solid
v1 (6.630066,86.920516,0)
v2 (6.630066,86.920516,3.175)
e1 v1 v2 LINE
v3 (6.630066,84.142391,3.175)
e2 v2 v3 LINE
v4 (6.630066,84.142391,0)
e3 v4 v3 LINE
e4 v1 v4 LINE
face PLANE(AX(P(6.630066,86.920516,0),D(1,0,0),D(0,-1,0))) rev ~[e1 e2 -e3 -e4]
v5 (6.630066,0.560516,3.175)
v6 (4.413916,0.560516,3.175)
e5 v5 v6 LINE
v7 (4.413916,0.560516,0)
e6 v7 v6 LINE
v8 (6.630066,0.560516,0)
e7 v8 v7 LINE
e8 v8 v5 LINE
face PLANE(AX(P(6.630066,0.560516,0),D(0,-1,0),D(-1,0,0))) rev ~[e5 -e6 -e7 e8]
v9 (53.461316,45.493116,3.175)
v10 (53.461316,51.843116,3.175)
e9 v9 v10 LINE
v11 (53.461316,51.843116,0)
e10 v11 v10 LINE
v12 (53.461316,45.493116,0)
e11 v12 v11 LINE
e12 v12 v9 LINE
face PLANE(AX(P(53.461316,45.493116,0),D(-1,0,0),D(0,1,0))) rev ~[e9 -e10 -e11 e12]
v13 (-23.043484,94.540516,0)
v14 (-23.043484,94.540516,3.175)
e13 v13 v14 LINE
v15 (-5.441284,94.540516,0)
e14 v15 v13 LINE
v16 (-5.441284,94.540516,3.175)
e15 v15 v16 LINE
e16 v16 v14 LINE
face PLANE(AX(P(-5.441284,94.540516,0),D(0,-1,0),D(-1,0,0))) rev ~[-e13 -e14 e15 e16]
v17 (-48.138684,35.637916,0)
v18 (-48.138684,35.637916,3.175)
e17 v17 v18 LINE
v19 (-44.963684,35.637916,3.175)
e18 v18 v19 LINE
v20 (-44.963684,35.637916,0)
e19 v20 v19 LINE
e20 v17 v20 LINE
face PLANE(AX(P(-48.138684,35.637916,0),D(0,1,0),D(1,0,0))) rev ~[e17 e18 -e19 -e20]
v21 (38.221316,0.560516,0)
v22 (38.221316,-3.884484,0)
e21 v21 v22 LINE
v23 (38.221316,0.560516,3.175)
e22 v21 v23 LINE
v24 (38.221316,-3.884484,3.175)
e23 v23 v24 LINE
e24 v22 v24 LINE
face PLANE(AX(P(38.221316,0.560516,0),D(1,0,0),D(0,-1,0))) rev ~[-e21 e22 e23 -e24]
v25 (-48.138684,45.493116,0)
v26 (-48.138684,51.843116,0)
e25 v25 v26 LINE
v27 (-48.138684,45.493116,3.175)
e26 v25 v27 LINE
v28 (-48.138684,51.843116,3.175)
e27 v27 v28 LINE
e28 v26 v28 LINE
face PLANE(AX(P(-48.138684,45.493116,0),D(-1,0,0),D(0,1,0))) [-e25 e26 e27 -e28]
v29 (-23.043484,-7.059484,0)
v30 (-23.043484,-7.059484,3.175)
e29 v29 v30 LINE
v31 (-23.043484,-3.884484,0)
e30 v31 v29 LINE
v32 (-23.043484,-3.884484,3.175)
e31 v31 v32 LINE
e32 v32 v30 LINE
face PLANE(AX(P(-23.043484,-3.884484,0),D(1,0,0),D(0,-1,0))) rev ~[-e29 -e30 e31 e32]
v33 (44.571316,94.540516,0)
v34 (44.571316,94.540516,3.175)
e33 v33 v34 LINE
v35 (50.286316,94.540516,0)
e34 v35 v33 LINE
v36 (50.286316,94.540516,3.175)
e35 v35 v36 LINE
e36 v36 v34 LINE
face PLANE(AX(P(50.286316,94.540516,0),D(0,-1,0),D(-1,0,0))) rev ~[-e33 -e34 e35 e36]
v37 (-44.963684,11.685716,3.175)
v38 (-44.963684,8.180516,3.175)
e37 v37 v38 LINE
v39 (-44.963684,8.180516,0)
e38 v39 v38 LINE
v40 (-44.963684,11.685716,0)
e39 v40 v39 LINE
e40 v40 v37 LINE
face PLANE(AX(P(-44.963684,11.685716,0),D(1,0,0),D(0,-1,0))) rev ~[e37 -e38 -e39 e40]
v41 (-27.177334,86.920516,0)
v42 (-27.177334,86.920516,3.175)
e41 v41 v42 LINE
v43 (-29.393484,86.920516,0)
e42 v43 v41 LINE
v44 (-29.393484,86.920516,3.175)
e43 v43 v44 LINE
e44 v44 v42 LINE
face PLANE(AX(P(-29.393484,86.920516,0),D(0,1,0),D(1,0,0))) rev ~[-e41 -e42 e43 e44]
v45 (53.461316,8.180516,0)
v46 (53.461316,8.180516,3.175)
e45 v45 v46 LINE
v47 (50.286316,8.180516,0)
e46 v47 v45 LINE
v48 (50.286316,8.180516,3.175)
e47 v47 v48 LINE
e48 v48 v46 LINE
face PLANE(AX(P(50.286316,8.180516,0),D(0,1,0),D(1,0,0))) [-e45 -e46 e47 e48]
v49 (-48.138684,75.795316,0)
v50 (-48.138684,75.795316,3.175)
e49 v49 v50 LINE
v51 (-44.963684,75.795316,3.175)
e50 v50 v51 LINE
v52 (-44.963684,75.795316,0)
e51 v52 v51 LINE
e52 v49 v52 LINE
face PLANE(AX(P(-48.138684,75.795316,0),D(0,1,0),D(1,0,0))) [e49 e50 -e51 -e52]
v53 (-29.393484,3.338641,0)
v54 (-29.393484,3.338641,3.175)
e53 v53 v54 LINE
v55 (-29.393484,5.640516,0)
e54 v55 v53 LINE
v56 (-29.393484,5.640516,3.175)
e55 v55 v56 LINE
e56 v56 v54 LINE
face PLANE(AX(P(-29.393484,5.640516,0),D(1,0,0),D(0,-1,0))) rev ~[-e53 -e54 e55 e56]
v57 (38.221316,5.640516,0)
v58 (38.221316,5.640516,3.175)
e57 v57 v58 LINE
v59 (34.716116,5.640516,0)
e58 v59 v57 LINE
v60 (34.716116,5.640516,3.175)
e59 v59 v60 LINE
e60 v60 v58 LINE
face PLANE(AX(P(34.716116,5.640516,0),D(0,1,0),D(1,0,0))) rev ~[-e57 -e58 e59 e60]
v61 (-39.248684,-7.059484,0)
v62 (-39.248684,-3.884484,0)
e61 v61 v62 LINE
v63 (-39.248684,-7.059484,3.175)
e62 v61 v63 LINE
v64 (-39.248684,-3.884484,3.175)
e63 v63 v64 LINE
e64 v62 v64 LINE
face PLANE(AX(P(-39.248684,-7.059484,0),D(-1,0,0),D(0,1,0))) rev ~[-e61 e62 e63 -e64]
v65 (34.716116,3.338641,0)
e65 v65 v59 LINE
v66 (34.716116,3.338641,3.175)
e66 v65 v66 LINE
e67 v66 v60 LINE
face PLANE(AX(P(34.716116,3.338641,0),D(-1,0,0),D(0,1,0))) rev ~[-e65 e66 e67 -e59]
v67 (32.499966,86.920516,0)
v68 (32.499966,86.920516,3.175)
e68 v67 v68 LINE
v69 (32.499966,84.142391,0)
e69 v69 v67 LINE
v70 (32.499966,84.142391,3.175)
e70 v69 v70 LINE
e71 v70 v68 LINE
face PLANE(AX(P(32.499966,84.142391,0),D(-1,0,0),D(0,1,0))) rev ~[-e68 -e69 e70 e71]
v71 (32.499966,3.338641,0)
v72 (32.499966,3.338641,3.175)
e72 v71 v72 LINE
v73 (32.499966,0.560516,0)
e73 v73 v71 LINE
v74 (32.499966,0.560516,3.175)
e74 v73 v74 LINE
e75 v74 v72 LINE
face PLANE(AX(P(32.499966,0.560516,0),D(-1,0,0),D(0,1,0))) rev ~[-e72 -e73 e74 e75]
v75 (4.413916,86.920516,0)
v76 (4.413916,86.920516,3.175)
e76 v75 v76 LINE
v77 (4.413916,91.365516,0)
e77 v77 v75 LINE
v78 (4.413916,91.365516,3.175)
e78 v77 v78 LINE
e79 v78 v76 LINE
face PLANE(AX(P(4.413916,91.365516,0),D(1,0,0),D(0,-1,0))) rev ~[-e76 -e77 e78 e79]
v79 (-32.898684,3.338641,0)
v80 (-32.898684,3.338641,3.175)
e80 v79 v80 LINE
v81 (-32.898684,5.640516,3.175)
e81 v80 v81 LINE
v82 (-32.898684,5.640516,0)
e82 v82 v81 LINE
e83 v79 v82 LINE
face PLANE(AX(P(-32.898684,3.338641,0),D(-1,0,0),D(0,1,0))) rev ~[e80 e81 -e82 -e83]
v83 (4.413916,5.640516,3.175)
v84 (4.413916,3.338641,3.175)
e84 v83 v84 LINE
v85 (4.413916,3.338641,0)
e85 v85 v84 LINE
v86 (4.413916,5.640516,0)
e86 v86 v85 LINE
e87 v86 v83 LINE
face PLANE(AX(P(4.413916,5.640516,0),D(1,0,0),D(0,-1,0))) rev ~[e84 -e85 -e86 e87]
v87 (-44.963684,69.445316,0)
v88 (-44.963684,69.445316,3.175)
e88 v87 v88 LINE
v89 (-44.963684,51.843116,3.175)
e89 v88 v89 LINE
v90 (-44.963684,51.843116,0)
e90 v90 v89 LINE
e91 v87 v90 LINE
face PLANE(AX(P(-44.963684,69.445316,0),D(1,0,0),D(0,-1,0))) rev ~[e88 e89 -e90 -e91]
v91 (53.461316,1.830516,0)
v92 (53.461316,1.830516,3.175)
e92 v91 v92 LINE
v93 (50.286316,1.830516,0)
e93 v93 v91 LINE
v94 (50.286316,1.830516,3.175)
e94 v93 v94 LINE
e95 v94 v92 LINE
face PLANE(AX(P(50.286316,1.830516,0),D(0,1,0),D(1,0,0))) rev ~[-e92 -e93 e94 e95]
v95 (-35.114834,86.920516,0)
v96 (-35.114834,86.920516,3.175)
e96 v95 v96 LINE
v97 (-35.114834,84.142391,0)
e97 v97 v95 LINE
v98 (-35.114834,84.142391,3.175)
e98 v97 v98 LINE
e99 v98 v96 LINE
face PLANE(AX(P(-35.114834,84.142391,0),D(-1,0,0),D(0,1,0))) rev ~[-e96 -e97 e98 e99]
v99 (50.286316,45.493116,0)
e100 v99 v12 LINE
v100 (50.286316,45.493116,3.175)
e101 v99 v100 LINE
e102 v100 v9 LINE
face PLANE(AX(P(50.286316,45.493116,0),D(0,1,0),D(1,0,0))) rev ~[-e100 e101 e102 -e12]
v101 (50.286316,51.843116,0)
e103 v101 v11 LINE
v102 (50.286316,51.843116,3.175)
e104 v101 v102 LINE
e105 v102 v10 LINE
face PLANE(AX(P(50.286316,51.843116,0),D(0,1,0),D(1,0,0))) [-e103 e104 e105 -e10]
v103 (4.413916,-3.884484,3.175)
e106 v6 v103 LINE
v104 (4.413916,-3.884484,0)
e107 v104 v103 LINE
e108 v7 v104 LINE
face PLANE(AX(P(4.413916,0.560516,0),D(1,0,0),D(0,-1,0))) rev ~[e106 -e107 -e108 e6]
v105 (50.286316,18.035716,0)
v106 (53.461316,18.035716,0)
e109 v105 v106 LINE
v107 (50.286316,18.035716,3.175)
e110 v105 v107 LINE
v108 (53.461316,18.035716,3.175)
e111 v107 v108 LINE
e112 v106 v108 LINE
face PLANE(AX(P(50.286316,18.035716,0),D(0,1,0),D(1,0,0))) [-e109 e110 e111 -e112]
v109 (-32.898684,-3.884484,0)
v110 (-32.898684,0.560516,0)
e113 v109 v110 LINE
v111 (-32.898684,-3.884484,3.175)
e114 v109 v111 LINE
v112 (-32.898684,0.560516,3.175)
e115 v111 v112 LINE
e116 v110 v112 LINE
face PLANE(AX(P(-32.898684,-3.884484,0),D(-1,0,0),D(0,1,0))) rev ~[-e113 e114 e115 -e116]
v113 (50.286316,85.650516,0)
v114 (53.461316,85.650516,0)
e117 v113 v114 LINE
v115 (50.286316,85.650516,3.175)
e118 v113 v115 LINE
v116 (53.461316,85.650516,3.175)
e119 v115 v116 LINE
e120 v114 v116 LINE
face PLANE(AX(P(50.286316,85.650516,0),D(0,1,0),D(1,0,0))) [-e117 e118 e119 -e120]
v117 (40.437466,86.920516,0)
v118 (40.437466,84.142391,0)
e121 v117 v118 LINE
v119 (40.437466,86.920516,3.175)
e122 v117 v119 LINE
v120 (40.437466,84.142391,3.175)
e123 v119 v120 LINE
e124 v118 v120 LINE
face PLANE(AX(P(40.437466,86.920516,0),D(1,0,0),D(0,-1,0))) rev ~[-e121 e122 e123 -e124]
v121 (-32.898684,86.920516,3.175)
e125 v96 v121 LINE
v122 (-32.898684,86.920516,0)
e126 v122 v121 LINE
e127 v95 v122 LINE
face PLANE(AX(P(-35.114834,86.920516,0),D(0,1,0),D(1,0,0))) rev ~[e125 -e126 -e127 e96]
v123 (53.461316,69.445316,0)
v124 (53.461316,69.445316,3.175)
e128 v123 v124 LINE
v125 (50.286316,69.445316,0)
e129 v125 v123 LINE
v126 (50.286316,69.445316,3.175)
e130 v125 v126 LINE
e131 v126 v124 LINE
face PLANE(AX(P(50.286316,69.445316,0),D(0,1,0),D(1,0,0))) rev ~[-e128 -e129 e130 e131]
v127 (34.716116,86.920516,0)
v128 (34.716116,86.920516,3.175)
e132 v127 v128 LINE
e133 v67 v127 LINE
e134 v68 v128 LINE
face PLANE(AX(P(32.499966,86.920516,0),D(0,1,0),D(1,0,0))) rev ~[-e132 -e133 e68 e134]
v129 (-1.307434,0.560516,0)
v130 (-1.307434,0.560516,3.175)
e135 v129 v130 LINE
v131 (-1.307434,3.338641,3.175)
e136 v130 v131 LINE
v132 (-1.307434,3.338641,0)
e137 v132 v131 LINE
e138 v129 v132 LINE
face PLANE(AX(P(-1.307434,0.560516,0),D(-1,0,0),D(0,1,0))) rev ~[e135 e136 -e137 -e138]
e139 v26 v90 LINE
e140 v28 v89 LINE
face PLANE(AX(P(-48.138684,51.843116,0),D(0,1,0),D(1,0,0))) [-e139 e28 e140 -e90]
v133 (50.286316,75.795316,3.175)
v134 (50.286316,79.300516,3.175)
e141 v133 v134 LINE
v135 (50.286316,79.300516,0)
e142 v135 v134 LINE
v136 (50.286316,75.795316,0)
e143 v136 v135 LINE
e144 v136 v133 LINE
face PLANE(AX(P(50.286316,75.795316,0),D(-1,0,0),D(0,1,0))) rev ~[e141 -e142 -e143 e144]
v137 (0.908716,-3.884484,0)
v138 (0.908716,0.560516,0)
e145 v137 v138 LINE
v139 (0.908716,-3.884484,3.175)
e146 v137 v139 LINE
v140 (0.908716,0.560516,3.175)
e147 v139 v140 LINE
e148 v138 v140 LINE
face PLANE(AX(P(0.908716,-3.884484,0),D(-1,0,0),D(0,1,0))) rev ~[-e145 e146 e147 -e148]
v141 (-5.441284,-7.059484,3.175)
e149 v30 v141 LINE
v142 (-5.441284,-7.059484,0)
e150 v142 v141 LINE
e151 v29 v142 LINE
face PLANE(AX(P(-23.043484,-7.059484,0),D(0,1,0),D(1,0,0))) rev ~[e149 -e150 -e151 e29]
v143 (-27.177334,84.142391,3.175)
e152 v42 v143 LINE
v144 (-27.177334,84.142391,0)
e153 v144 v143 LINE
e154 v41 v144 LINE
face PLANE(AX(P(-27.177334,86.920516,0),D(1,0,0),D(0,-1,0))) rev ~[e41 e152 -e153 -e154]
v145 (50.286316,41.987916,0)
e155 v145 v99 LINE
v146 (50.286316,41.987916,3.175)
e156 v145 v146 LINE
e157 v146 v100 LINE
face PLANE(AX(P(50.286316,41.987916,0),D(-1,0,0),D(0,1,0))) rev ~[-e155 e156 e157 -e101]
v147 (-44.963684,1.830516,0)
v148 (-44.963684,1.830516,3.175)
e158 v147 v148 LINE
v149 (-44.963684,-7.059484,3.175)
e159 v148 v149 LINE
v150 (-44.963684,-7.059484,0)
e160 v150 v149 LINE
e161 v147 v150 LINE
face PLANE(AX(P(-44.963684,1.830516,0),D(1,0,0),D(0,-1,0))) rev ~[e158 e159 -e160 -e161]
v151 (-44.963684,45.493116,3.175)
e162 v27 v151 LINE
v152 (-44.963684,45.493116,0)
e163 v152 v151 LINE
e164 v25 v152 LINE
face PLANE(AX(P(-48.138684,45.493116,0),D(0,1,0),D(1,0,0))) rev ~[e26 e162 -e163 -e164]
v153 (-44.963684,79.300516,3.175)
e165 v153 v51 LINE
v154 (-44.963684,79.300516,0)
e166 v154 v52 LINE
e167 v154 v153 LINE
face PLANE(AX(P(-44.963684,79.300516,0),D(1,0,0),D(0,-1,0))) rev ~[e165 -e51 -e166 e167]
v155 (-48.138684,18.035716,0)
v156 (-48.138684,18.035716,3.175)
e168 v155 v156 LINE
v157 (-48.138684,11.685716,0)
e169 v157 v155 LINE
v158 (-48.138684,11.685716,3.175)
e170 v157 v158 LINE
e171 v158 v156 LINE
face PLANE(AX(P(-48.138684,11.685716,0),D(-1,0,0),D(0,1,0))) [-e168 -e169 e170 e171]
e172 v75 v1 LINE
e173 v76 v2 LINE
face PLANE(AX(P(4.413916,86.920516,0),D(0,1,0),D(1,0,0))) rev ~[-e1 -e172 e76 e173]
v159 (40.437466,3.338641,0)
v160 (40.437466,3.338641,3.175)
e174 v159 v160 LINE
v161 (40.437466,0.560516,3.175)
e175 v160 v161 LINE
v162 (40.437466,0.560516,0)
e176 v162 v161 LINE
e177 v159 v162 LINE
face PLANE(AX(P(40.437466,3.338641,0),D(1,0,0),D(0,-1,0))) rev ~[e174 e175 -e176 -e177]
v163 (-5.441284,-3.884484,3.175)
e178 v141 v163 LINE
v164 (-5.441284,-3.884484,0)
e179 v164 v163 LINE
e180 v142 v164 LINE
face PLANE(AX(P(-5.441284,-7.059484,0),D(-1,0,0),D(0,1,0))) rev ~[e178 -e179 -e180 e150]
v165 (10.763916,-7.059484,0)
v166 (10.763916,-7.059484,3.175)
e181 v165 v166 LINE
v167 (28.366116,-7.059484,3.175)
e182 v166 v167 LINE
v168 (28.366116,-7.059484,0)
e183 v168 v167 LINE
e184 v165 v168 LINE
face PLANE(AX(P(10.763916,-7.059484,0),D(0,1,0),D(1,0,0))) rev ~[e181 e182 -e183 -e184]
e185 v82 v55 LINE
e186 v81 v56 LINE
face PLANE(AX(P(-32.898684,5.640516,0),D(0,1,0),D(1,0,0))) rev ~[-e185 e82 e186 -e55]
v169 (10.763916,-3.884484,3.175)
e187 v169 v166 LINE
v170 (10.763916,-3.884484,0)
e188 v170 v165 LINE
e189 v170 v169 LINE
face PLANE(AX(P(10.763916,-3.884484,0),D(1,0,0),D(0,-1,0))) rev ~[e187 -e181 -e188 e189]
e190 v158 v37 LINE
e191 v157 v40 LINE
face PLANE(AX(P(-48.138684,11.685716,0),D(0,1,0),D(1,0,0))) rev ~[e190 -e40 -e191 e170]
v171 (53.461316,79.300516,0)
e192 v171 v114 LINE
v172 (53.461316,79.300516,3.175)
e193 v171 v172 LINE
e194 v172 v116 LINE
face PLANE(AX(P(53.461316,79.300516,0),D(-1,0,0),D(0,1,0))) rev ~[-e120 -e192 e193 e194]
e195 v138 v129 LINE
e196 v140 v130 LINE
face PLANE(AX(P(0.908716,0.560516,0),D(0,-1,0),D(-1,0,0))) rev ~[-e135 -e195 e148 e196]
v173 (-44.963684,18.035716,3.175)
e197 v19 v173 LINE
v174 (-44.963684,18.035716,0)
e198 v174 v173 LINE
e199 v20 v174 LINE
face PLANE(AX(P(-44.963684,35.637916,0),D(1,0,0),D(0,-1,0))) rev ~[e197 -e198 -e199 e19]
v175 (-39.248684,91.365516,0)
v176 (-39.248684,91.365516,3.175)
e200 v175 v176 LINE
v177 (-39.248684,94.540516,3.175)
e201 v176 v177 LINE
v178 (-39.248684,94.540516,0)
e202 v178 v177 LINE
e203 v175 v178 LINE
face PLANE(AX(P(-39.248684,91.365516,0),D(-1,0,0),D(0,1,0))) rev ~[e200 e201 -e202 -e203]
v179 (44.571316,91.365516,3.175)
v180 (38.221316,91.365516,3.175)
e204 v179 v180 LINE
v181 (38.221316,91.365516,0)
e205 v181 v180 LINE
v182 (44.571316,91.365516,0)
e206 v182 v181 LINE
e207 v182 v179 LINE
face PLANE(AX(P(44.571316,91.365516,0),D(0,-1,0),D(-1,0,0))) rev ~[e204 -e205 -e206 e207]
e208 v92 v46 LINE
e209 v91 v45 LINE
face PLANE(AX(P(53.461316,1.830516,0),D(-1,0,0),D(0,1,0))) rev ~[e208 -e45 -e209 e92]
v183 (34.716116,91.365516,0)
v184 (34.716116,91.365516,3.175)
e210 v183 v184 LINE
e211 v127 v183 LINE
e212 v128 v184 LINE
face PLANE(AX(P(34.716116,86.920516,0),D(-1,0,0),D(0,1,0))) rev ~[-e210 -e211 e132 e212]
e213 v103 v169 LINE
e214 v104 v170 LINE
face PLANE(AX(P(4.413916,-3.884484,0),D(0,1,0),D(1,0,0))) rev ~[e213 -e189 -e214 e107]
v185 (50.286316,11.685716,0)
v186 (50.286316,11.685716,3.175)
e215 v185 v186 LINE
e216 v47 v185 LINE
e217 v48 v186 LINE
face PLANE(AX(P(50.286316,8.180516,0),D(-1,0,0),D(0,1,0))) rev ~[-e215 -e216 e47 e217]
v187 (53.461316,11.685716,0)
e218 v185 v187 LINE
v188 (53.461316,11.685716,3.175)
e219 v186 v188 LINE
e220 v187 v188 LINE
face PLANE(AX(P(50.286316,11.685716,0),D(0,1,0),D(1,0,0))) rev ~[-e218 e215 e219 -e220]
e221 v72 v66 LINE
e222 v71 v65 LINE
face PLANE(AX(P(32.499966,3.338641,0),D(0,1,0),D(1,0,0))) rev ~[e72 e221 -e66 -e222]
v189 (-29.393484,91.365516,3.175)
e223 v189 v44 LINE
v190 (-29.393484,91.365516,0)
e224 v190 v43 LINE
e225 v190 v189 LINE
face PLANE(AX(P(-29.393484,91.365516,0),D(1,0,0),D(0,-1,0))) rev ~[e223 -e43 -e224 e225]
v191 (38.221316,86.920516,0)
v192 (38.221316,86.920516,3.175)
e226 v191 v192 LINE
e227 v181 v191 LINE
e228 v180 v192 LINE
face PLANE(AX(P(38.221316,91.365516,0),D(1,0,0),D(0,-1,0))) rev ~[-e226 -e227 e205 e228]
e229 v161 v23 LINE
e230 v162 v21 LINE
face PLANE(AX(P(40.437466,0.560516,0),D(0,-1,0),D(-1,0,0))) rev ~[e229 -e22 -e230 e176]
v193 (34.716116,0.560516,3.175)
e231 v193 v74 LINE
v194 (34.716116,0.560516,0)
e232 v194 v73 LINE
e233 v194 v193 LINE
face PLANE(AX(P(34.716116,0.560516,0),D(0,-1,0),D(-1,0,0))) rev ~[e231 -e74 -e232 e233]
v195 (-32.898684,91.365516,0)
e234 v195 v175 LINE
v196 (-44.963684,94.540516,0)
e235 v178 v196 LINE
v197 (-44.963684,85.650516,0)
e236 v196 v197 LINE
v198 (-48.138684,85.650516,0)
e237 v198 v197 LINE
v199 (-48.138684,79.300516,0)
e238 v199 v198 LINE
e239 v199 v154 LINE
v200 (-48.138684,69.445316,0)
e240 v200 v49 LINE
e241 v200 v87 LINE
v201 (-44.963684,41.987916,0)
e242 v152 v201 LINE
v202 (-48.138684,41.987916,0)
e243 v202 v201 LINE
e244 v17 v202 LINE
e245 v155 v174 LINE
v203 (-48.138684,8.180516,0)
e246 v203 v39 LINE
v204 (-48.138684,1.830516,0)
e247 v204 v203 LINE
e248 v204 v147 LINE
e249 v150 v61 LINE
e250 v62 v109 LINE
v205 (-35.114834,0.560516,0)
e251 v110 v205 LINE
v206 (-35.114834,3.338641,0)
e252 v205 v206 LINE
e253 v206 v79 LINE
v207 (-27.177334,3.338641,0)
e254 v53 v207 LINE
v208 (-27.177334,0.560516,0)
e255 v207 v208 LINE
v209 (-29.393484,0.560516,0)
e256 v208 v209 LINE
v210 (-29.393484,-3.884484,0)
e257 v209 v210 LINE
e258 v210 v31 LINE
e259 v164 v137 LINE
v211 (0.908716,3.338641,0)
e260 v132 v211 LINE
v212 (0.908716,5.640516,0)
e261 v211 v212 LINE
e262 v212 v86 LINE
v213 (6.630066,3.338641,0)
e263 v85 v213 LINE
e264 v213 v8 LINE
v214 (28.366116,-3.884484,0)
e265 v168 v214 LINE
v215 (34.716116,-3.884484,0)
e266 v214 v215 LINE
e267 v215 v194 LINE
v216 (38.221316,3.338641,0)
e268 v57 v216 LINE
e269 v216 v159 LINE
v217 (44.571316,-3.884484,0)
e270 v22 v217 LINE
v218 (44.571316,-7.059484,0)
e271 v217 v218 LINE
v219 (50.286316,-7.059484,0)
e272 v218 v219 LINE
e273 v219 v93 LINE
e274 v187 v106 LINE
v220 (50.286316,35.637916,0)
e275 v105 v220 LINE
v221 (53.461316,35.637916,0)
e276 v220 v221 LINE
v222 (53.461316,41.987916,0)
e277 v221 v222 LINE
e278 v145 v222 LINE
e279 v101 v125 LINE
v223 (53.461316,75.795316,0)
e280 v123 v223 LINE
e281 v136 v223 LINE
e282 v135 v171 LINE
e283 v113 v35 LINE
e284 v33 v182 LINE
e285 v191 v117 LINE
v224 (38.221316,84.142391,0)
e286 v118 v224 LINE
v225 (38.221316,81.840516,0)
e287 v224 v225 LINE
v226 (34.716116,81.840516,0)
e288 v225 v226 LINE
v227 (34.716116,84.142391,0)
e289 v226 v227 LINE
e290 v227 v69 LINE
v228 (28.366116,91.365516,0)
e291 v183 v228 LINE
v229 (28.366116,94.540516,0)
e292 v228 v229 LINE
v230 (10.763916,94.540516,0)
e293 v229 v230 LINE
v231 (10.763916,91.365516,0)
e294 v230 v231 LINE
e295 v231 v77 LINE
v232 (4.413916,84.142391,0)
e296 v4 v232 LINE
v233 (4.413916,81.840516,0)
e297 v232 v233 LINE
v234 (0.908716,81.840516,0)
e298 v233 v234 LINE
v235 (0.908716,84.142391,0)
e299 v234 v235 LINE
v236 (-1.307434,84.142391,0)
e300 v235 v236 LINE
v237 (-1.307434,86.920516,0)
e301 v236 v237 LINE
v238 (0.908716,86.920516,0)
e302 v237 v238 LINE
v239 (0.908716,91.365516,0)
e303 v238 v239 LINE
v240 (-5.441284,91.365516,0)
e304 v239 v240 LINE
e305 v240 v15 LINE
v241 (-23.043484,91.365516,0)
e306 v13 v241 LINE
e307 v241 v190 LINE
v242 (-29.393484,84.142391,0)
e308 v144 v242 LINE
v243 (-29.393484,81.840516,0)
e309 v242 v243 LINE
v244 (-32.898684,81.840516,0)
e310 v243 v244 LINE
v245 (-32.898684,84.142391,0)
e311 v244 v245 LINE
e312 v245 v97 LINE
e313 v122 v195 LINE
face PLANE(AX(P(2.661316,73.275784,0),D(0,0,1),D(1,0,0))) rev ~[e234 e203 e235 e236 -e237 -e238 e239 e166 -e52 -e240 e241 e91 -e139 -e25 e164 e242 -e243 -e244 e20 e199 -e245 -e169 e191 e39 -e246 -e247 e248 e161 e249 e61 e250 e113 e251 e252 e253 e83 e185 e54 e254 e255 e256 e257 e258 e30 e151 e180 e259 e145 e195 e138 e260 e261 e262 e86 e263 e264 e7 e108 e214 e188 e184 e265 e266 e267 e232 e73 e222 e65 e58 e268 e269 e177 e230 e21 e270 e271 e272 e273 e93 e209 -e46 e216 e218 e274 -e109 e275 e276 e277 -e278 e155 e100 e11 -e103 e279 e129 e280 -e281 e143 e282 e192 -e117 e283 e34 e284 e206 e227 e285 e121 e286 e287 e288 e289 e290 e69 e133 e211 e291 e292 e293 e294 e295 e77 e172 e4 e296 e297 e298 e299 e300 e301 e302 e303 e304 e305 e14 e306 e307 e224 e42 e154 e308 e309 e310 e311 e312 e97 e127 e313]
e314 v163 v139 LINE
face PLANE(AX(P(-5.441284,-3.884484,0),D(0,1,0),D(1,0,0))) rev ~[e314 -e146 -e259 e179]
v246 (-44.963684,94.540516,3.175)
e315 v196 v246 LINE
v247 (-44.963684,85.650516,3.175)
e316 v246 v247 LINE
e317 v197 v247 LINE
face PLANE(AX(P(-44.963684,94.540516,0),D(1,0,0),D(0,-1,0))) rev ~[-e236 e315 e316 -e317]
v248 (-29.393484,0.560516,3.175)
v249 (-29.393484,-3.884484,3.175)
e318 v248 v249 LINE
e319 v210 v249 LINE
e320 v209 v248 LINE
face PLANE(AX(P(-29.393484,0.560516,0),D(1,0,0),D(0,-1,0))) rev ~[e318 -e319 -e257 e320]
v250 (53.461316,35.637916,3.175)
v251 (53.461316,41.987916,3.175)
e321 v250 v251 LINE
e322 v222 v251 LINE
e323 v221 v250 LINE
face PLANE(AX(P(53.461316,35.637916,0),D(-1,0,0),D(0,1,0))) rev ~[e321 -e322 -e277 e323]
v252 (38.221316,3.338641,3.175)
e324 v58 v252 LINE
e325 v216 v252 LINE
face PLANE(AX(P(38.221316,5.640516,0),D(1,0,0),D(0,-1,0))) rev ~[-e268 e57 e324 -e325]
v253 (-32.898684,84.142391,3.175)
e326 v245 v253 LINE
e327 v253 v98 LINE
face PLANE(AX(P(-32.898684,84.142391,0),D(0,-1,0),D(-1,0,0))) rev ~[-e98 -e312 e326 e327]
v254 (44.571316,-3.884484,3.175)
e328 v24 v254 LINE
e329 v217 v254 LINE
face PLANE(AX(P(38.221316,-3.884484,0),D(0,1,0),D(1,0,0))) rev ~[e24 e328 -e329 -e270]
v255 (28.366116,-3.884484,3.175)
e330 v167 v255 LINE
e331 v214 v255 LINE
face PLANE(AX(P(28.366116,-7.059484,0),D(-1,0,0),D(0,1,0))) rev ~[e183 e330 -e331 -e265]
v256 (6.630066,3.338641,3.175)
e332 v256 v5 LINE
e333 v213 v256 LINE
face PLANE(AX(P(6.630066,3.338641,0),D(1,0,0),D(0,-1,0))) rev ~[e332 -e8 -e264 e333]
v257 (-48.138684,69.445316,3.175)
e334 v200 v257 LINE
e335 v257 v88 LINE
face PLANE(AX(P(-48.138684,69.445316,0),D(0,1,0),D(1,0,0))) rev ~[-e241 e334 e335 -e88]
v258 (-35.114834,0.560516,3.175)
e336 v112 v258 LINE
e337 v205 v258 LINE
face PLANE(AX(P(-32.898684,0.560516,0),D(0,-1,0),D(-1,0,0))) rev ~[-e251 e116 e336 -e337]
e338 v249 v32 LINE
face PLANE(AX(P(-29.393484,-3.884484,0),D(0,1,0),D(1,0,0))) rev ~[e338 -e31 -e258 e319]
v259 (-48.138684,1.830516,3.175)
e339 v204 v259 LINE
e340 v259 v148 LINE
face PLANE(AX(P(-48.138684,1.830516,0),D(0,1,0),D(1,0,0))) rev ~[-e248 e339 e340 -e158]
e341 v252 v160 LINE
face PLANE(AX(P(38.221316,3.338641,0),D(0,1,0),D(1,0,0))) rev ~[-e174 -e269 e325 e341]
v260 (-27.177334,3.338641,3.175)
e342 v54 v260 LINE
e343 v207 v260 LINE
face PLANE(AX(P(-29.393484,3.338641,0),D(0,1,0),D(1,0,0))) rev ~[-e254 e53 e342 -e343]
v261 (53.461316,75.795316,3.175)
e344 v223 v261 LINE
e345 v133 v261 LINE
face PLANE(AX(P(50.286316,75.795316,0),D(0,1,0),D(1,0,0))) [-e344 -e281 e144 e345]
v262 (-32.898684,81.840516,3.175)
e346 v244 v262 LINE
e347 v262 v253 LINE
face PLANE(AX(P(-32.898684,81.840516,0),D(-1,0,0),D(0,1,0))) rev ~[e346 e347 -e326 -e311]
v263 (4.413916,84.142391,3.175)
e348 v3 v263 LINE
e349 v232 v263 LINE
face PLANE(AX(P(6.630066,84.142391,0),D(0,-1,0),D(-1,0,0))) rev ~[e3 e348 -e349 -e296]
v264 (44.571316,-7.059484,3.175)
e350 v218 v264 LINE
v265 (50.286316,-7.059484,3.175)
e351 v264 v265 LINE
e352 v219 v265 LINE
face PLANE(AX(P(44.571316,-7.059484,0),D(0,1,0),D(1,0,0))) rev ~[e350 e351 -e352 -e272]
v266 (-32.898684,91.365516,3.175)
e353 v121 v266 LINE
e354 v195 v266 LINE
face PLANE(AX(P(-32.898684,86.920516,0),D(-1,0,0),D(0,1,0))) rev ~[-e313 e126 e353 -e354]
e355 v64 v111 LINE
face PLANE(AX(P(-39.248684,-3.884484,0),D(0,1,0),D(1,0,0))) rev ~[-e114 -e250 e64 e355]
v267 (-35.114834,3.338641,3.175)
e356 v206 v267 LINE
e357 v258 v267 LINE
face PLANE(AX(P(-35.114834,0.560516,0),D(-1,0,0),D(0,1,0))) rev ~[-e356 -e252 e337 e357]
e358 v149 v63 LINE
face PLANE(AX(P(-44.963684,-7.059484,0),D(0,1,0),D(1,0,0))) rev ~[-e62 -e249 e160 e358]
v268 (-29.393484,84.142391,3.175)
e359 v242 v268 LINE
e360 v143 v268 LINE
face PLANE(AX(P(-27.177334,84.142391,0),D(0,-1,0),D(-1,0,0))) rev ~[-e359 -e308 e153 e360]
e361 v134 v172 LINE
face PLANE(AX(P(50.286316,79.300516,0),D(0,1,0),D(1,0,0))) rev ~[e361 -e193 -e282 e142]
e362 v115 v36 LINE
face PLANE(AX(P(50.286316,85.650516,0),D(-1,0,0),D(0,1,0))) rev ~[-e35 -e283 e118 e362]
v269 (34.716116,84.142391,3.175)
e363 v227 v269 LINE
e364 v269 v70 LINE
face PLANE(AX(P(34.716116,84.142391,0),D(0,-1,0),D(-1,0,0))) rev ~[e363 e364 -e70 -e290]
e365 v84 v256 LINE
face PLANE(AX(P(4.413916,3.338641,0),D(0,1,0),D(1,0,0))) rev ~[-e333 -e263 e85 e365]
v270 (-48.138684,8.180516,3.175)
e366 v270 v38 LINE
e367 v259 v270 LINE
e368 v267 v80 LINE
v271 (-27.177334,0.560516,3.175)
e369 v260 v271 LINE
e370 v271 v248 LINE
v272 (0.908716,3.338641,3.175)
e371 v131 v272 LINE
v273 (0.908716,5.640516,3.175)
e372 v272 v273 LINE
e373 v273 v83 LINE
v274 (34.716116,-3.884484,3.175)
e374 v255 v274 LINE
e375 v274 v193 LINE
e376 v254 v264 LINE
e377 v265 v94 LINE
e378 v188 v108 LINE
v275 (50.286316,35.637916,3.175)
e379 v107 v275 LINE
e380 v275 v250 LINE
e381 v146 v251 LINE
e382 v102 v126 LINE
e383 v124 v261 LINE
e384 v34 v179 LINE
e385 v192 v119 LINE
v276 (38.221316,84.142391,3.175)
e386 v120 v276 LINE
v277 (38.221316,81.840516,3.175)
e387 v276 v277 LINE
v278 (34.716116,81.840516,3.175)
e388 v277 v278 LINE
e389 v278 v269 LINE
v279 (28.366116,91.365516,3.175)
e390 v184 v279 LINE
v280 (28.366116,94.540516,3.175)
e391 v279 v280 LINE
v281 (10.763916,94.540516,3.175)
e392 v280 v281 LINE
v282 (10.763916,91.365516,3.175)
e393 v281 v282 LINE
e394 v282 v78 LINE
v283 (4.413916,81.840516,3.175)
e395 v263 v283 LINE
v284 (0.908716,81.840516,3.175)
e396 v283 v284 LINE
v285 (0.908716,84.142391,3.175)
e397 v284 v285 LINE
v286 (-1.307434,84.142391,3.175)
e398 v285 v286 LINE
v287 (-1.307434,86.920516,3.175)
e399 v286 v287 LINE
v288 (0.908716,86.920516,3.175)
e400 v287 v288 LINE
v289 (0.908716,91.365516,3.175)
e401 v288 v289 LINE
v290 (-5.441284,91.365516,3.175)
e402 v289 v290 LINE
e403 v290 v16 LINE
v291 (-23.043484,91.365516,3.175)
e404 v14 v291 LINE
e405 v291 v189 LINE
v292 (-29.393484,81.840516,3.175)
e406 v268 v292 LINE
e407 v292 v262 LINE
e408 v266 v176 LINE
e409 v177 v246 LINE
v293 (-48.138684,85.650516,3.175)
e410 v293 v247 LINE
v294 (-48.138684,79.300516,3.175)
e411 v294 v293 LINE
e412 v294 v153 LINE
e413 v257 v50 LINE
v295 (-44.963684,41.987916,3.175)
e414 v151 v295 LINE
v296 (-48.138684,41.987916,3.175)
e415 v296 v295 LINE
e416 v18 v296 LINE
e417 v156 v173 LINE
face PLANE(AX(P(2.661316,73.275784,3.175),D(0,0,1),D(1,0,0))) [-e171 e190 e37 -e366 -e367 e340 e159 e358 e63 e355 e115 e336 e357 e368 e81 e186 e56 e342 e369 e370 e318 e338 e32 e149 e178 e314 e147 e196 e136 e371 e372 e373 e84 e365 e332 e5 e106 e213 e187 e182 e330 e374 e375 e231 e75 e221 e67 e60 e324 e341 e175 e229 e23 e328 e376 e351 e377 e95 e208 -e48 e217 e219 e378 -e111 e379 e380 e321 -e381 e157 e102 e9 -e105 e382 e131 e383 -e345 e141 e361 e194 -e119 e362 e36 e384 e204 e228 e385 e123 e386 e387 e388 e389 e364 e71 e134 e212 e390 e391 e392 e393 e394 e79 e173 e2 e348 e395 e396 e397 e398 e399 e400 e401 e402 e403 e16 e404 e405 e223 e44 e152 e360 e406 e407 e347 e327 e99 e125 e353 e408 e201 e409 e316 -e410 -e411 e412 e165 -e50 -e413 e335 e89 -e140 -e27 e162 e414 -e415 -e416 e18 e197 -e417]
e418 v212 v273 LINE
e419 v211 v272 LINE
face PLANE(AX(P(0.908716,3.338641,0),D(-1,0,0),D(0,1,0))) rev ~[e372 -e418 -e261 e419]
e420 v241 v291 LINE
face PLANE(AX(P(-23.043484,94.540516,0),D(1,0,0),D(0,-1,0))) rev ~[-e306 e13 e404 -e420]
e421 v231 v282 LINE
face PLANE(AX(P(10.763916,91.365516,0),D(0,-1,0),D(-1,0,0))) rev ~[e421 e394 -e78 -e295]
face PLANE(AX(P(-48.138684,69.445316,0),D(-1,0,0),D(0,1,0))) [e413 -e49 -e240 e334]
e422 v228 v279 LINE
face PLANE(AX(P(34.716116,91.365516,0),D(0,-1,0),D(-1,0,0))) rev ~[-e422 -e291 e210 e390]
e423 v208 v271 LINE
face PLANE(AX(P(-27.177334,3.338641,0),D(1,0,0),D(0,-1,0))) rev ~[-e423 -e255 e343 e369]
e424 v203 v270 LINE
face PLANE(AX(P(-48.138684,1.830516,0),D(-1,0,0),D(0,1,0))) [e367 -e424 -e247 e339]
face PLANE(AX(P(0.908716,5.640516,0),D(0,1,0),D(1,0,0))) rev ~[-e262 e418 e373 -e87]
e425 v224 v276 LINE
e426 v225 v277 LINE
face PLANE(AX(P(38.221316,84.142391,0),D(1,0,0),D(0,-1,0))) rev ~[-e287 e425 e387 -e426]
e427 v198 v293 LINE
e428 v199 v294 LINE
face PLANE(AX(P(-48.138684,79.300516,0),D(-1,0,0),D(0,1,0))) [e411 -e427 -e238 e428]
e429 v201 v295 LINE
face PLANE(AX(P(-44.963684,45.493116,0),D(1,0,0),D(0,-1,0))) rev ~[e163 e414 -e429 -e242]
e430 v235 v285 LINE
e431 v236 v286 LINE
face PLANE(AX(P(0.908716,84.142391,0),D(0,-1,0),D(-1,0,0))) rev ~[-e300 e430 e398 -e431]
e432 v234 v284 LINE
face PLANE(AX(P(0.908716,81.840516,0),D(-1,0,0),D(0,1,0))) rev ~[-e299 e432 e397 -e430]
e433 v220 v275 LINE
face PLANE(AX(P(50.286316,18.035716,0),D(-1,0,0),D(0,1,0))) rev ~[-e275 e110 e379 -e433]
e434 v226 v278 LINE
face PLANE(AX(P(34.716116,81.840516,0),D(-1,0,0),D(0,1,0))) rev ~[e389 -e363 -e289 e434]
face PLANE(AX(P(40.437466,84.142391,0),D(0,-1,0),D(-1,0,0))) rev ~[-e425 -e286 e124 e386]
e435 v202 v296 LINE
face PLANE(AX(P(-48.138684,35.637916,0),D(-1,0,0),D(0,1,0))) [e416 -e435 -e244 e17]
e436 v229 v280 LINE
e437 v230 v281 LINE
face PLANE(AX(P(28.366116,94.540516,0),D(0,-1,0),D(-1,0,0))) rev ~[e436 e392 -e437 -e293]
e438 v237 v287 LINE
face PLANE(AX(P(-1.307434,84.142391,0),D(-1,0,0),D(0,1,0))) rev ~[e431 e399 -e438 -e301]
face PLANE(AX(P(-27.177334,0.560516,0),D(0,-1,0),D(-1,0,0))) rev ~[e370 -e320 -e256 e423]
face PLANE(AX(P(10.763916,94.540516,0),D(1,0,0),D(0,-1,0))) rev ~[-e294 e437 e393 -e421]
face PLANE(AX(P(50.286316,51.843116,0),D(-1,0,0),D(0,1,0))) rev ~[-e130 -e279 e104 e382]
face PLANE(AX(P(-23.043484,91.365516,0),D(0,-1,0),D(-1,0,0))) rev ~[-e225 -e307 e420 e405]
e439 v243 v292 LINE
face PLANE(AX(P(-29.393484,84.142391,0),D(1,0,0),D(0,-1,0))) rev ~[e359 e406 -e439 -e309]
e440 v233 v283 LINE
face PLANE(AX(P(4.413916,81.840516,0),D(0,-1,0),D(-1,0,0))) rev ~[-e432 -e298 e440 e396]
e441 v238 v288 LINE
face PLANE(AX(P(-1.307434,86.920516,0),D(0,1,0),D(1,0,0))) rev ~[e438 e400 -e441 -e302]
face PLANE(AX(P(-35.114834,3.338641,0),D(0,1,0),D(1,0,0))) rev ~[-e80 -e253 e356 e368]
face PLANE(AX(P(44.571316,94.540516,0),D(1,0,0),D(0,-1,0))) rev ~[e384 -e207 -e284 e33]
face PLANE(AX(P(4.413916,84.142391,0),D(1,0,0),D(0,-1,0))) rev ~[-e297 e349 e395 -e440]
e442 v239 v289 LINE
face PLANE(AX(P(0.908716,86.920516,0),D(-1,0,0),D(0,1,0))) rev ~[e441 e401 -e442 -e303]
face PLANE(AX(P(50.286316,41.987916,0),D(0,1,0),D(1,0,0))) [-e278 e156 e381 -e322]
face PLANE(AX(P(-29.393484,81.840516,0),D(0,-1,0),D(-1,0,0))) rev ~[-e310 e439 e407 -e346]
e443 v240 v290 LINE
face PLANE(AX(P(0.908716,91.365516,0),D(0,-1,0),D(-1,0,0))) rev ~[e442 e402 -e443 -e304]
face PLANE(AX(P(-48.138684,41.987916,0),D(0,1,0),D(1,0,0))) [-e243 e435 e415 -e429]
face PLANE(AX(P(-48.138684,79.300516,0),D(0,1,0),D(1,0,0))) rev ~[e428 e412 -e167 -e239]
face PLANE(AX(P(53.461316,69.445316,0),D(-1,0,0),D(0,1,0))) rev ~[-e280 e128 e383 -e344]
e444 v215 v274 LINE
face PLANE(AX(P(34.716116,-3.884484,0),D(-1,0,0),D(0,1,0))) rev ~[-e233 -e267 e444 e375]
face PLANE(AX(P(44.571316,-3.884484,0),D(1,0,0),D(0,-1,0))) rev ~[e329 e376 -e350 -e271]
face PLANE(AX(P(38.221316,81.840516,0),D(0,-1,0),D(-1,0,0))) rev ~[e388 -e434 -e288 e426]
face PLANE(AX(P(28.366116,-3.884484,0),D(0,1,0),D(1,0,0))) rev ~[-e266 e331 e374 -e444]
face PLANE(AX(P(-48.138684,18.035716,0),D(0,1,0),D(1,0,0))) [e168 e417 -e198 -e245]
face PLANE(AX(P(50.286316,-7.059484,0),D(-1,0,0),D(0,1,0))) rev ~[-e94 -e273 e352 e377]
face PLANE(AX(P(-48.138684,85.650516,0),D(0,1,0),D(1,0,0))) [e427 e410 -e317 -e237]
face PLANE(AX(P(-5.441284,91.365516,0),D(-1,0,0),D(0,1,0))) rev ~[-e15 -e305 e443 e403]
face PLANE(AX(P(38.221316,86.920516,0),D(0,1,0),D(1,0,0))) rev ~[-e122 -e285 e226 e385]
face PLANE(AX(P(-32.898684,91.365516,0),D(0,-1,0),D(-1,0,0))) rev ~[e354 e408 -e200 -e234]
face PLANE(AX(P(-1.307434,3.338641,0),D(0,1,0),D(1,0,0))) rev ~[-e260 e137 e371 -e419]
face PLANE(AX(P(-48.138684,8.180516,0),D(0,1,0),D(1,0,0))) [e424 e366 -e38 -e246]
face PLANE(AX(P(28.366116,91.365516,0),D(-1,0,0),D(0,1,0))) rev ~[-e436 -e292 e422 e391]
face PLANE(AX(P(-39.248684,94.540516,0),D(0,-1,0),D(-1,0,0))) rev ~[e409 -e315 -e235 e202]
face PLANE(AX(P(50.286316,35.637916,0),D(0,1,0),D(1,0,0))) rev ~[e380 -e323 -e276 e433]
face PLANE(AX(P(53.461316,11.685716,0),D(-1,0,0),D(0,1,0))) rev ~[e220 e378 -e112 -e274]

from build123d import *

# Parameters (mm, degrees)
F0_W     = 3.175
F0_H     = 6.35
F1_DEPTH = 3.175


with BuildPart() as f1:
    # F0 (on Top) → F1 (new body)
    with BuildSketch(Plane.XY):
        Polygon((-39.248684, 94.540516), (-44.963684, 94.540516), (-44.963684, 85.650516), (-44.963684, 79.300516), (-44.963684, 75.795316), (-44.963684, 69.445316), (-44.963684, 51.843116), (-44.963684, 45.493116), (-44.963684, 43.740516), (50.286316, 43.740516), (50.286316, 45.493116), (50.286316, 51.843116), (50.286316, 69.445316), (50.286316, 75.795316), (50.286316, 79.300516), (50.286316, 85.650516), (50.286316, 94.540516), (44.571316, 94.540516), (44.571316, 91.365516), (38.221316, 91.365516), (38.221316, 86.920516), (40.437466, 86.920516), (40.437466, 84.142391), (38.221316, 84.142391), (38.221316, 81.840516), (34.716116, 81.840516), (34.716116, 84.142391), (32.499966, 84.142391), (32.499966, 86.920516), (34.716116, 86.920516), (34.716116, 91.365516), (28.366116, 91.365516), (28.366116, 94.540516), (10.763916, 94.540516), (10.763916, 91.365516), (4.413916, 91.365516), (4.413916, 86.920516), (6.630066, 86.920516), (6.630066, 84.142391), (4.413916, 84.142391), (4.413916, 81.840516), (0.908716, 81.840516), (0.908716, 84.142391), (-1.307434, 84.142391), (-1.307434, 86.920516), (0.908716, 86.920516), (0.908716, 91.365516), (-5.441284, 91.365516), (-5.441284, 94.540516), (-23.043484, 94.540516), (-23.043484, 91.365516), (-29.393484, 91.365516), (-29.393484, 86.920516), (-27.177334, 86.920516), (-27.177334, 84.142391), (-29.393484, 84.142391), (-29.393484, 81.840516), (-32.898684, 81.840516), (-32.898684, 84.142391), (-35.114834, 84.142391), (-35.114834, 86.920516), (-32.898684, 86.920516), (-32.898684, 91.365516), (-39.248684, 91.365516), align=None)
        Polygon((50.286316, 43.740516), (-44.963684, 43.740516), (-44.963684, 41.987916), (-44.963684, 35.637916), (-44.963684, 18.035716), (-44.963684, 11.685716), (-44.963684, 8.180516), (-44.963684, 1.830516), (-44.963684, -7.059484), (-39.248684, -7.059484), (-39.248684, -3.884484), (-32.898684, -3.884484), (-32.898684, 0.560516), (-35.114834, 0.560516), (-35.114834, 3.338641), (-32.898684, 3.338641), (-32.898684, 5.640516), (-29.393484, 5.640516), (-29.393484, 3.338641), (-27.177334, 3.338641), (-27.177334, 0.560516), (-29.393484, 0.560516), (-29.393484, -3.884484), (-23.043484, -3.884484), (-23.043484, -7.059484), (-5.441284, -7.059484), (-5.441284, -3.884484), (0.908716, -3.884484), (0.908716, 0.560516), (-1.307434, 0.560516), (-1.307434, 3.338641), (0.908716, 3.338641), (0.908716, 5.640516), (4.413916, 5.640516), (4.413916, 3.338641), (6.630066, 3.338641), (6.630066, 0.560516), (4.413916, 0.560516), (4.413916, -3.884484), (10.763916, -3.884484), (10.763916, -7.059484), (28.366116, -7.059484), (28.366116, -3.884484), (34.716116, -3.884484), (34.716116, 0.560516), (32.499966, 0.560516), (32.499966, 3.338641), (34.716116, 3.338641), (34.716116, 5.640516), (38.221316, 5.640516), (38.221316, 3.338641), (40.437466, 3.338641), (40.437466, 0.560516), (38.221316, 0.560516), (38.221316, -3.884484), (44.571316, -3.884484), (44.571316, -7.059484), (50.286316, -7.059484), (50.286316, 1.830516), (50.286316, 8.180516), (50.286316, 11.685716), (50.286316, 18.035716), (50.286316, 35.637916), (50.286316, 41.987916), align=None)
        with Locations((-46.551184, 48.668116)):
            Rectangle(F0_W, F0_H)
        with Locations((-46.551184, 72.620316)):
            Rectangle(F0_W, F0_H)
        with Locations((-46.551184, 82.475516)):
            Rectangle(F0_W, F0_H)
        with Locations((-46.551184, 38.812916)):
            Rectangle(F0_W, F0_H)
        with Locations((-46.551184, 14.860716)):
            Rectangle(F0_W, F0_H)
        with Locations((-46.551184, 5.005516)):
            Rectangle(F0_W, F0_H)
        with Locations((51.873816, 5.005516)):
            Rectangle(F0_W, F0_H)
        with Locations((51.873816, 14.860716)):
            Rectangle(F0_W, F0_H)
        with Locations((51.873816, 38.812916)):
            Rectangle(F0_W, F0_H)
        with Locations((51.873816, 48.668116)):
            Rectangle(F0_W, F0_H)
        with Locations((51.873816, 72.620316)):
            Rectangle(F0_W, F0_H)
        with Locations((51.873816, 82.475516)):
            Rectangle(F0_W, F0_H)
    extrude(amount=F1_DEPTH)


solid = f1.part
